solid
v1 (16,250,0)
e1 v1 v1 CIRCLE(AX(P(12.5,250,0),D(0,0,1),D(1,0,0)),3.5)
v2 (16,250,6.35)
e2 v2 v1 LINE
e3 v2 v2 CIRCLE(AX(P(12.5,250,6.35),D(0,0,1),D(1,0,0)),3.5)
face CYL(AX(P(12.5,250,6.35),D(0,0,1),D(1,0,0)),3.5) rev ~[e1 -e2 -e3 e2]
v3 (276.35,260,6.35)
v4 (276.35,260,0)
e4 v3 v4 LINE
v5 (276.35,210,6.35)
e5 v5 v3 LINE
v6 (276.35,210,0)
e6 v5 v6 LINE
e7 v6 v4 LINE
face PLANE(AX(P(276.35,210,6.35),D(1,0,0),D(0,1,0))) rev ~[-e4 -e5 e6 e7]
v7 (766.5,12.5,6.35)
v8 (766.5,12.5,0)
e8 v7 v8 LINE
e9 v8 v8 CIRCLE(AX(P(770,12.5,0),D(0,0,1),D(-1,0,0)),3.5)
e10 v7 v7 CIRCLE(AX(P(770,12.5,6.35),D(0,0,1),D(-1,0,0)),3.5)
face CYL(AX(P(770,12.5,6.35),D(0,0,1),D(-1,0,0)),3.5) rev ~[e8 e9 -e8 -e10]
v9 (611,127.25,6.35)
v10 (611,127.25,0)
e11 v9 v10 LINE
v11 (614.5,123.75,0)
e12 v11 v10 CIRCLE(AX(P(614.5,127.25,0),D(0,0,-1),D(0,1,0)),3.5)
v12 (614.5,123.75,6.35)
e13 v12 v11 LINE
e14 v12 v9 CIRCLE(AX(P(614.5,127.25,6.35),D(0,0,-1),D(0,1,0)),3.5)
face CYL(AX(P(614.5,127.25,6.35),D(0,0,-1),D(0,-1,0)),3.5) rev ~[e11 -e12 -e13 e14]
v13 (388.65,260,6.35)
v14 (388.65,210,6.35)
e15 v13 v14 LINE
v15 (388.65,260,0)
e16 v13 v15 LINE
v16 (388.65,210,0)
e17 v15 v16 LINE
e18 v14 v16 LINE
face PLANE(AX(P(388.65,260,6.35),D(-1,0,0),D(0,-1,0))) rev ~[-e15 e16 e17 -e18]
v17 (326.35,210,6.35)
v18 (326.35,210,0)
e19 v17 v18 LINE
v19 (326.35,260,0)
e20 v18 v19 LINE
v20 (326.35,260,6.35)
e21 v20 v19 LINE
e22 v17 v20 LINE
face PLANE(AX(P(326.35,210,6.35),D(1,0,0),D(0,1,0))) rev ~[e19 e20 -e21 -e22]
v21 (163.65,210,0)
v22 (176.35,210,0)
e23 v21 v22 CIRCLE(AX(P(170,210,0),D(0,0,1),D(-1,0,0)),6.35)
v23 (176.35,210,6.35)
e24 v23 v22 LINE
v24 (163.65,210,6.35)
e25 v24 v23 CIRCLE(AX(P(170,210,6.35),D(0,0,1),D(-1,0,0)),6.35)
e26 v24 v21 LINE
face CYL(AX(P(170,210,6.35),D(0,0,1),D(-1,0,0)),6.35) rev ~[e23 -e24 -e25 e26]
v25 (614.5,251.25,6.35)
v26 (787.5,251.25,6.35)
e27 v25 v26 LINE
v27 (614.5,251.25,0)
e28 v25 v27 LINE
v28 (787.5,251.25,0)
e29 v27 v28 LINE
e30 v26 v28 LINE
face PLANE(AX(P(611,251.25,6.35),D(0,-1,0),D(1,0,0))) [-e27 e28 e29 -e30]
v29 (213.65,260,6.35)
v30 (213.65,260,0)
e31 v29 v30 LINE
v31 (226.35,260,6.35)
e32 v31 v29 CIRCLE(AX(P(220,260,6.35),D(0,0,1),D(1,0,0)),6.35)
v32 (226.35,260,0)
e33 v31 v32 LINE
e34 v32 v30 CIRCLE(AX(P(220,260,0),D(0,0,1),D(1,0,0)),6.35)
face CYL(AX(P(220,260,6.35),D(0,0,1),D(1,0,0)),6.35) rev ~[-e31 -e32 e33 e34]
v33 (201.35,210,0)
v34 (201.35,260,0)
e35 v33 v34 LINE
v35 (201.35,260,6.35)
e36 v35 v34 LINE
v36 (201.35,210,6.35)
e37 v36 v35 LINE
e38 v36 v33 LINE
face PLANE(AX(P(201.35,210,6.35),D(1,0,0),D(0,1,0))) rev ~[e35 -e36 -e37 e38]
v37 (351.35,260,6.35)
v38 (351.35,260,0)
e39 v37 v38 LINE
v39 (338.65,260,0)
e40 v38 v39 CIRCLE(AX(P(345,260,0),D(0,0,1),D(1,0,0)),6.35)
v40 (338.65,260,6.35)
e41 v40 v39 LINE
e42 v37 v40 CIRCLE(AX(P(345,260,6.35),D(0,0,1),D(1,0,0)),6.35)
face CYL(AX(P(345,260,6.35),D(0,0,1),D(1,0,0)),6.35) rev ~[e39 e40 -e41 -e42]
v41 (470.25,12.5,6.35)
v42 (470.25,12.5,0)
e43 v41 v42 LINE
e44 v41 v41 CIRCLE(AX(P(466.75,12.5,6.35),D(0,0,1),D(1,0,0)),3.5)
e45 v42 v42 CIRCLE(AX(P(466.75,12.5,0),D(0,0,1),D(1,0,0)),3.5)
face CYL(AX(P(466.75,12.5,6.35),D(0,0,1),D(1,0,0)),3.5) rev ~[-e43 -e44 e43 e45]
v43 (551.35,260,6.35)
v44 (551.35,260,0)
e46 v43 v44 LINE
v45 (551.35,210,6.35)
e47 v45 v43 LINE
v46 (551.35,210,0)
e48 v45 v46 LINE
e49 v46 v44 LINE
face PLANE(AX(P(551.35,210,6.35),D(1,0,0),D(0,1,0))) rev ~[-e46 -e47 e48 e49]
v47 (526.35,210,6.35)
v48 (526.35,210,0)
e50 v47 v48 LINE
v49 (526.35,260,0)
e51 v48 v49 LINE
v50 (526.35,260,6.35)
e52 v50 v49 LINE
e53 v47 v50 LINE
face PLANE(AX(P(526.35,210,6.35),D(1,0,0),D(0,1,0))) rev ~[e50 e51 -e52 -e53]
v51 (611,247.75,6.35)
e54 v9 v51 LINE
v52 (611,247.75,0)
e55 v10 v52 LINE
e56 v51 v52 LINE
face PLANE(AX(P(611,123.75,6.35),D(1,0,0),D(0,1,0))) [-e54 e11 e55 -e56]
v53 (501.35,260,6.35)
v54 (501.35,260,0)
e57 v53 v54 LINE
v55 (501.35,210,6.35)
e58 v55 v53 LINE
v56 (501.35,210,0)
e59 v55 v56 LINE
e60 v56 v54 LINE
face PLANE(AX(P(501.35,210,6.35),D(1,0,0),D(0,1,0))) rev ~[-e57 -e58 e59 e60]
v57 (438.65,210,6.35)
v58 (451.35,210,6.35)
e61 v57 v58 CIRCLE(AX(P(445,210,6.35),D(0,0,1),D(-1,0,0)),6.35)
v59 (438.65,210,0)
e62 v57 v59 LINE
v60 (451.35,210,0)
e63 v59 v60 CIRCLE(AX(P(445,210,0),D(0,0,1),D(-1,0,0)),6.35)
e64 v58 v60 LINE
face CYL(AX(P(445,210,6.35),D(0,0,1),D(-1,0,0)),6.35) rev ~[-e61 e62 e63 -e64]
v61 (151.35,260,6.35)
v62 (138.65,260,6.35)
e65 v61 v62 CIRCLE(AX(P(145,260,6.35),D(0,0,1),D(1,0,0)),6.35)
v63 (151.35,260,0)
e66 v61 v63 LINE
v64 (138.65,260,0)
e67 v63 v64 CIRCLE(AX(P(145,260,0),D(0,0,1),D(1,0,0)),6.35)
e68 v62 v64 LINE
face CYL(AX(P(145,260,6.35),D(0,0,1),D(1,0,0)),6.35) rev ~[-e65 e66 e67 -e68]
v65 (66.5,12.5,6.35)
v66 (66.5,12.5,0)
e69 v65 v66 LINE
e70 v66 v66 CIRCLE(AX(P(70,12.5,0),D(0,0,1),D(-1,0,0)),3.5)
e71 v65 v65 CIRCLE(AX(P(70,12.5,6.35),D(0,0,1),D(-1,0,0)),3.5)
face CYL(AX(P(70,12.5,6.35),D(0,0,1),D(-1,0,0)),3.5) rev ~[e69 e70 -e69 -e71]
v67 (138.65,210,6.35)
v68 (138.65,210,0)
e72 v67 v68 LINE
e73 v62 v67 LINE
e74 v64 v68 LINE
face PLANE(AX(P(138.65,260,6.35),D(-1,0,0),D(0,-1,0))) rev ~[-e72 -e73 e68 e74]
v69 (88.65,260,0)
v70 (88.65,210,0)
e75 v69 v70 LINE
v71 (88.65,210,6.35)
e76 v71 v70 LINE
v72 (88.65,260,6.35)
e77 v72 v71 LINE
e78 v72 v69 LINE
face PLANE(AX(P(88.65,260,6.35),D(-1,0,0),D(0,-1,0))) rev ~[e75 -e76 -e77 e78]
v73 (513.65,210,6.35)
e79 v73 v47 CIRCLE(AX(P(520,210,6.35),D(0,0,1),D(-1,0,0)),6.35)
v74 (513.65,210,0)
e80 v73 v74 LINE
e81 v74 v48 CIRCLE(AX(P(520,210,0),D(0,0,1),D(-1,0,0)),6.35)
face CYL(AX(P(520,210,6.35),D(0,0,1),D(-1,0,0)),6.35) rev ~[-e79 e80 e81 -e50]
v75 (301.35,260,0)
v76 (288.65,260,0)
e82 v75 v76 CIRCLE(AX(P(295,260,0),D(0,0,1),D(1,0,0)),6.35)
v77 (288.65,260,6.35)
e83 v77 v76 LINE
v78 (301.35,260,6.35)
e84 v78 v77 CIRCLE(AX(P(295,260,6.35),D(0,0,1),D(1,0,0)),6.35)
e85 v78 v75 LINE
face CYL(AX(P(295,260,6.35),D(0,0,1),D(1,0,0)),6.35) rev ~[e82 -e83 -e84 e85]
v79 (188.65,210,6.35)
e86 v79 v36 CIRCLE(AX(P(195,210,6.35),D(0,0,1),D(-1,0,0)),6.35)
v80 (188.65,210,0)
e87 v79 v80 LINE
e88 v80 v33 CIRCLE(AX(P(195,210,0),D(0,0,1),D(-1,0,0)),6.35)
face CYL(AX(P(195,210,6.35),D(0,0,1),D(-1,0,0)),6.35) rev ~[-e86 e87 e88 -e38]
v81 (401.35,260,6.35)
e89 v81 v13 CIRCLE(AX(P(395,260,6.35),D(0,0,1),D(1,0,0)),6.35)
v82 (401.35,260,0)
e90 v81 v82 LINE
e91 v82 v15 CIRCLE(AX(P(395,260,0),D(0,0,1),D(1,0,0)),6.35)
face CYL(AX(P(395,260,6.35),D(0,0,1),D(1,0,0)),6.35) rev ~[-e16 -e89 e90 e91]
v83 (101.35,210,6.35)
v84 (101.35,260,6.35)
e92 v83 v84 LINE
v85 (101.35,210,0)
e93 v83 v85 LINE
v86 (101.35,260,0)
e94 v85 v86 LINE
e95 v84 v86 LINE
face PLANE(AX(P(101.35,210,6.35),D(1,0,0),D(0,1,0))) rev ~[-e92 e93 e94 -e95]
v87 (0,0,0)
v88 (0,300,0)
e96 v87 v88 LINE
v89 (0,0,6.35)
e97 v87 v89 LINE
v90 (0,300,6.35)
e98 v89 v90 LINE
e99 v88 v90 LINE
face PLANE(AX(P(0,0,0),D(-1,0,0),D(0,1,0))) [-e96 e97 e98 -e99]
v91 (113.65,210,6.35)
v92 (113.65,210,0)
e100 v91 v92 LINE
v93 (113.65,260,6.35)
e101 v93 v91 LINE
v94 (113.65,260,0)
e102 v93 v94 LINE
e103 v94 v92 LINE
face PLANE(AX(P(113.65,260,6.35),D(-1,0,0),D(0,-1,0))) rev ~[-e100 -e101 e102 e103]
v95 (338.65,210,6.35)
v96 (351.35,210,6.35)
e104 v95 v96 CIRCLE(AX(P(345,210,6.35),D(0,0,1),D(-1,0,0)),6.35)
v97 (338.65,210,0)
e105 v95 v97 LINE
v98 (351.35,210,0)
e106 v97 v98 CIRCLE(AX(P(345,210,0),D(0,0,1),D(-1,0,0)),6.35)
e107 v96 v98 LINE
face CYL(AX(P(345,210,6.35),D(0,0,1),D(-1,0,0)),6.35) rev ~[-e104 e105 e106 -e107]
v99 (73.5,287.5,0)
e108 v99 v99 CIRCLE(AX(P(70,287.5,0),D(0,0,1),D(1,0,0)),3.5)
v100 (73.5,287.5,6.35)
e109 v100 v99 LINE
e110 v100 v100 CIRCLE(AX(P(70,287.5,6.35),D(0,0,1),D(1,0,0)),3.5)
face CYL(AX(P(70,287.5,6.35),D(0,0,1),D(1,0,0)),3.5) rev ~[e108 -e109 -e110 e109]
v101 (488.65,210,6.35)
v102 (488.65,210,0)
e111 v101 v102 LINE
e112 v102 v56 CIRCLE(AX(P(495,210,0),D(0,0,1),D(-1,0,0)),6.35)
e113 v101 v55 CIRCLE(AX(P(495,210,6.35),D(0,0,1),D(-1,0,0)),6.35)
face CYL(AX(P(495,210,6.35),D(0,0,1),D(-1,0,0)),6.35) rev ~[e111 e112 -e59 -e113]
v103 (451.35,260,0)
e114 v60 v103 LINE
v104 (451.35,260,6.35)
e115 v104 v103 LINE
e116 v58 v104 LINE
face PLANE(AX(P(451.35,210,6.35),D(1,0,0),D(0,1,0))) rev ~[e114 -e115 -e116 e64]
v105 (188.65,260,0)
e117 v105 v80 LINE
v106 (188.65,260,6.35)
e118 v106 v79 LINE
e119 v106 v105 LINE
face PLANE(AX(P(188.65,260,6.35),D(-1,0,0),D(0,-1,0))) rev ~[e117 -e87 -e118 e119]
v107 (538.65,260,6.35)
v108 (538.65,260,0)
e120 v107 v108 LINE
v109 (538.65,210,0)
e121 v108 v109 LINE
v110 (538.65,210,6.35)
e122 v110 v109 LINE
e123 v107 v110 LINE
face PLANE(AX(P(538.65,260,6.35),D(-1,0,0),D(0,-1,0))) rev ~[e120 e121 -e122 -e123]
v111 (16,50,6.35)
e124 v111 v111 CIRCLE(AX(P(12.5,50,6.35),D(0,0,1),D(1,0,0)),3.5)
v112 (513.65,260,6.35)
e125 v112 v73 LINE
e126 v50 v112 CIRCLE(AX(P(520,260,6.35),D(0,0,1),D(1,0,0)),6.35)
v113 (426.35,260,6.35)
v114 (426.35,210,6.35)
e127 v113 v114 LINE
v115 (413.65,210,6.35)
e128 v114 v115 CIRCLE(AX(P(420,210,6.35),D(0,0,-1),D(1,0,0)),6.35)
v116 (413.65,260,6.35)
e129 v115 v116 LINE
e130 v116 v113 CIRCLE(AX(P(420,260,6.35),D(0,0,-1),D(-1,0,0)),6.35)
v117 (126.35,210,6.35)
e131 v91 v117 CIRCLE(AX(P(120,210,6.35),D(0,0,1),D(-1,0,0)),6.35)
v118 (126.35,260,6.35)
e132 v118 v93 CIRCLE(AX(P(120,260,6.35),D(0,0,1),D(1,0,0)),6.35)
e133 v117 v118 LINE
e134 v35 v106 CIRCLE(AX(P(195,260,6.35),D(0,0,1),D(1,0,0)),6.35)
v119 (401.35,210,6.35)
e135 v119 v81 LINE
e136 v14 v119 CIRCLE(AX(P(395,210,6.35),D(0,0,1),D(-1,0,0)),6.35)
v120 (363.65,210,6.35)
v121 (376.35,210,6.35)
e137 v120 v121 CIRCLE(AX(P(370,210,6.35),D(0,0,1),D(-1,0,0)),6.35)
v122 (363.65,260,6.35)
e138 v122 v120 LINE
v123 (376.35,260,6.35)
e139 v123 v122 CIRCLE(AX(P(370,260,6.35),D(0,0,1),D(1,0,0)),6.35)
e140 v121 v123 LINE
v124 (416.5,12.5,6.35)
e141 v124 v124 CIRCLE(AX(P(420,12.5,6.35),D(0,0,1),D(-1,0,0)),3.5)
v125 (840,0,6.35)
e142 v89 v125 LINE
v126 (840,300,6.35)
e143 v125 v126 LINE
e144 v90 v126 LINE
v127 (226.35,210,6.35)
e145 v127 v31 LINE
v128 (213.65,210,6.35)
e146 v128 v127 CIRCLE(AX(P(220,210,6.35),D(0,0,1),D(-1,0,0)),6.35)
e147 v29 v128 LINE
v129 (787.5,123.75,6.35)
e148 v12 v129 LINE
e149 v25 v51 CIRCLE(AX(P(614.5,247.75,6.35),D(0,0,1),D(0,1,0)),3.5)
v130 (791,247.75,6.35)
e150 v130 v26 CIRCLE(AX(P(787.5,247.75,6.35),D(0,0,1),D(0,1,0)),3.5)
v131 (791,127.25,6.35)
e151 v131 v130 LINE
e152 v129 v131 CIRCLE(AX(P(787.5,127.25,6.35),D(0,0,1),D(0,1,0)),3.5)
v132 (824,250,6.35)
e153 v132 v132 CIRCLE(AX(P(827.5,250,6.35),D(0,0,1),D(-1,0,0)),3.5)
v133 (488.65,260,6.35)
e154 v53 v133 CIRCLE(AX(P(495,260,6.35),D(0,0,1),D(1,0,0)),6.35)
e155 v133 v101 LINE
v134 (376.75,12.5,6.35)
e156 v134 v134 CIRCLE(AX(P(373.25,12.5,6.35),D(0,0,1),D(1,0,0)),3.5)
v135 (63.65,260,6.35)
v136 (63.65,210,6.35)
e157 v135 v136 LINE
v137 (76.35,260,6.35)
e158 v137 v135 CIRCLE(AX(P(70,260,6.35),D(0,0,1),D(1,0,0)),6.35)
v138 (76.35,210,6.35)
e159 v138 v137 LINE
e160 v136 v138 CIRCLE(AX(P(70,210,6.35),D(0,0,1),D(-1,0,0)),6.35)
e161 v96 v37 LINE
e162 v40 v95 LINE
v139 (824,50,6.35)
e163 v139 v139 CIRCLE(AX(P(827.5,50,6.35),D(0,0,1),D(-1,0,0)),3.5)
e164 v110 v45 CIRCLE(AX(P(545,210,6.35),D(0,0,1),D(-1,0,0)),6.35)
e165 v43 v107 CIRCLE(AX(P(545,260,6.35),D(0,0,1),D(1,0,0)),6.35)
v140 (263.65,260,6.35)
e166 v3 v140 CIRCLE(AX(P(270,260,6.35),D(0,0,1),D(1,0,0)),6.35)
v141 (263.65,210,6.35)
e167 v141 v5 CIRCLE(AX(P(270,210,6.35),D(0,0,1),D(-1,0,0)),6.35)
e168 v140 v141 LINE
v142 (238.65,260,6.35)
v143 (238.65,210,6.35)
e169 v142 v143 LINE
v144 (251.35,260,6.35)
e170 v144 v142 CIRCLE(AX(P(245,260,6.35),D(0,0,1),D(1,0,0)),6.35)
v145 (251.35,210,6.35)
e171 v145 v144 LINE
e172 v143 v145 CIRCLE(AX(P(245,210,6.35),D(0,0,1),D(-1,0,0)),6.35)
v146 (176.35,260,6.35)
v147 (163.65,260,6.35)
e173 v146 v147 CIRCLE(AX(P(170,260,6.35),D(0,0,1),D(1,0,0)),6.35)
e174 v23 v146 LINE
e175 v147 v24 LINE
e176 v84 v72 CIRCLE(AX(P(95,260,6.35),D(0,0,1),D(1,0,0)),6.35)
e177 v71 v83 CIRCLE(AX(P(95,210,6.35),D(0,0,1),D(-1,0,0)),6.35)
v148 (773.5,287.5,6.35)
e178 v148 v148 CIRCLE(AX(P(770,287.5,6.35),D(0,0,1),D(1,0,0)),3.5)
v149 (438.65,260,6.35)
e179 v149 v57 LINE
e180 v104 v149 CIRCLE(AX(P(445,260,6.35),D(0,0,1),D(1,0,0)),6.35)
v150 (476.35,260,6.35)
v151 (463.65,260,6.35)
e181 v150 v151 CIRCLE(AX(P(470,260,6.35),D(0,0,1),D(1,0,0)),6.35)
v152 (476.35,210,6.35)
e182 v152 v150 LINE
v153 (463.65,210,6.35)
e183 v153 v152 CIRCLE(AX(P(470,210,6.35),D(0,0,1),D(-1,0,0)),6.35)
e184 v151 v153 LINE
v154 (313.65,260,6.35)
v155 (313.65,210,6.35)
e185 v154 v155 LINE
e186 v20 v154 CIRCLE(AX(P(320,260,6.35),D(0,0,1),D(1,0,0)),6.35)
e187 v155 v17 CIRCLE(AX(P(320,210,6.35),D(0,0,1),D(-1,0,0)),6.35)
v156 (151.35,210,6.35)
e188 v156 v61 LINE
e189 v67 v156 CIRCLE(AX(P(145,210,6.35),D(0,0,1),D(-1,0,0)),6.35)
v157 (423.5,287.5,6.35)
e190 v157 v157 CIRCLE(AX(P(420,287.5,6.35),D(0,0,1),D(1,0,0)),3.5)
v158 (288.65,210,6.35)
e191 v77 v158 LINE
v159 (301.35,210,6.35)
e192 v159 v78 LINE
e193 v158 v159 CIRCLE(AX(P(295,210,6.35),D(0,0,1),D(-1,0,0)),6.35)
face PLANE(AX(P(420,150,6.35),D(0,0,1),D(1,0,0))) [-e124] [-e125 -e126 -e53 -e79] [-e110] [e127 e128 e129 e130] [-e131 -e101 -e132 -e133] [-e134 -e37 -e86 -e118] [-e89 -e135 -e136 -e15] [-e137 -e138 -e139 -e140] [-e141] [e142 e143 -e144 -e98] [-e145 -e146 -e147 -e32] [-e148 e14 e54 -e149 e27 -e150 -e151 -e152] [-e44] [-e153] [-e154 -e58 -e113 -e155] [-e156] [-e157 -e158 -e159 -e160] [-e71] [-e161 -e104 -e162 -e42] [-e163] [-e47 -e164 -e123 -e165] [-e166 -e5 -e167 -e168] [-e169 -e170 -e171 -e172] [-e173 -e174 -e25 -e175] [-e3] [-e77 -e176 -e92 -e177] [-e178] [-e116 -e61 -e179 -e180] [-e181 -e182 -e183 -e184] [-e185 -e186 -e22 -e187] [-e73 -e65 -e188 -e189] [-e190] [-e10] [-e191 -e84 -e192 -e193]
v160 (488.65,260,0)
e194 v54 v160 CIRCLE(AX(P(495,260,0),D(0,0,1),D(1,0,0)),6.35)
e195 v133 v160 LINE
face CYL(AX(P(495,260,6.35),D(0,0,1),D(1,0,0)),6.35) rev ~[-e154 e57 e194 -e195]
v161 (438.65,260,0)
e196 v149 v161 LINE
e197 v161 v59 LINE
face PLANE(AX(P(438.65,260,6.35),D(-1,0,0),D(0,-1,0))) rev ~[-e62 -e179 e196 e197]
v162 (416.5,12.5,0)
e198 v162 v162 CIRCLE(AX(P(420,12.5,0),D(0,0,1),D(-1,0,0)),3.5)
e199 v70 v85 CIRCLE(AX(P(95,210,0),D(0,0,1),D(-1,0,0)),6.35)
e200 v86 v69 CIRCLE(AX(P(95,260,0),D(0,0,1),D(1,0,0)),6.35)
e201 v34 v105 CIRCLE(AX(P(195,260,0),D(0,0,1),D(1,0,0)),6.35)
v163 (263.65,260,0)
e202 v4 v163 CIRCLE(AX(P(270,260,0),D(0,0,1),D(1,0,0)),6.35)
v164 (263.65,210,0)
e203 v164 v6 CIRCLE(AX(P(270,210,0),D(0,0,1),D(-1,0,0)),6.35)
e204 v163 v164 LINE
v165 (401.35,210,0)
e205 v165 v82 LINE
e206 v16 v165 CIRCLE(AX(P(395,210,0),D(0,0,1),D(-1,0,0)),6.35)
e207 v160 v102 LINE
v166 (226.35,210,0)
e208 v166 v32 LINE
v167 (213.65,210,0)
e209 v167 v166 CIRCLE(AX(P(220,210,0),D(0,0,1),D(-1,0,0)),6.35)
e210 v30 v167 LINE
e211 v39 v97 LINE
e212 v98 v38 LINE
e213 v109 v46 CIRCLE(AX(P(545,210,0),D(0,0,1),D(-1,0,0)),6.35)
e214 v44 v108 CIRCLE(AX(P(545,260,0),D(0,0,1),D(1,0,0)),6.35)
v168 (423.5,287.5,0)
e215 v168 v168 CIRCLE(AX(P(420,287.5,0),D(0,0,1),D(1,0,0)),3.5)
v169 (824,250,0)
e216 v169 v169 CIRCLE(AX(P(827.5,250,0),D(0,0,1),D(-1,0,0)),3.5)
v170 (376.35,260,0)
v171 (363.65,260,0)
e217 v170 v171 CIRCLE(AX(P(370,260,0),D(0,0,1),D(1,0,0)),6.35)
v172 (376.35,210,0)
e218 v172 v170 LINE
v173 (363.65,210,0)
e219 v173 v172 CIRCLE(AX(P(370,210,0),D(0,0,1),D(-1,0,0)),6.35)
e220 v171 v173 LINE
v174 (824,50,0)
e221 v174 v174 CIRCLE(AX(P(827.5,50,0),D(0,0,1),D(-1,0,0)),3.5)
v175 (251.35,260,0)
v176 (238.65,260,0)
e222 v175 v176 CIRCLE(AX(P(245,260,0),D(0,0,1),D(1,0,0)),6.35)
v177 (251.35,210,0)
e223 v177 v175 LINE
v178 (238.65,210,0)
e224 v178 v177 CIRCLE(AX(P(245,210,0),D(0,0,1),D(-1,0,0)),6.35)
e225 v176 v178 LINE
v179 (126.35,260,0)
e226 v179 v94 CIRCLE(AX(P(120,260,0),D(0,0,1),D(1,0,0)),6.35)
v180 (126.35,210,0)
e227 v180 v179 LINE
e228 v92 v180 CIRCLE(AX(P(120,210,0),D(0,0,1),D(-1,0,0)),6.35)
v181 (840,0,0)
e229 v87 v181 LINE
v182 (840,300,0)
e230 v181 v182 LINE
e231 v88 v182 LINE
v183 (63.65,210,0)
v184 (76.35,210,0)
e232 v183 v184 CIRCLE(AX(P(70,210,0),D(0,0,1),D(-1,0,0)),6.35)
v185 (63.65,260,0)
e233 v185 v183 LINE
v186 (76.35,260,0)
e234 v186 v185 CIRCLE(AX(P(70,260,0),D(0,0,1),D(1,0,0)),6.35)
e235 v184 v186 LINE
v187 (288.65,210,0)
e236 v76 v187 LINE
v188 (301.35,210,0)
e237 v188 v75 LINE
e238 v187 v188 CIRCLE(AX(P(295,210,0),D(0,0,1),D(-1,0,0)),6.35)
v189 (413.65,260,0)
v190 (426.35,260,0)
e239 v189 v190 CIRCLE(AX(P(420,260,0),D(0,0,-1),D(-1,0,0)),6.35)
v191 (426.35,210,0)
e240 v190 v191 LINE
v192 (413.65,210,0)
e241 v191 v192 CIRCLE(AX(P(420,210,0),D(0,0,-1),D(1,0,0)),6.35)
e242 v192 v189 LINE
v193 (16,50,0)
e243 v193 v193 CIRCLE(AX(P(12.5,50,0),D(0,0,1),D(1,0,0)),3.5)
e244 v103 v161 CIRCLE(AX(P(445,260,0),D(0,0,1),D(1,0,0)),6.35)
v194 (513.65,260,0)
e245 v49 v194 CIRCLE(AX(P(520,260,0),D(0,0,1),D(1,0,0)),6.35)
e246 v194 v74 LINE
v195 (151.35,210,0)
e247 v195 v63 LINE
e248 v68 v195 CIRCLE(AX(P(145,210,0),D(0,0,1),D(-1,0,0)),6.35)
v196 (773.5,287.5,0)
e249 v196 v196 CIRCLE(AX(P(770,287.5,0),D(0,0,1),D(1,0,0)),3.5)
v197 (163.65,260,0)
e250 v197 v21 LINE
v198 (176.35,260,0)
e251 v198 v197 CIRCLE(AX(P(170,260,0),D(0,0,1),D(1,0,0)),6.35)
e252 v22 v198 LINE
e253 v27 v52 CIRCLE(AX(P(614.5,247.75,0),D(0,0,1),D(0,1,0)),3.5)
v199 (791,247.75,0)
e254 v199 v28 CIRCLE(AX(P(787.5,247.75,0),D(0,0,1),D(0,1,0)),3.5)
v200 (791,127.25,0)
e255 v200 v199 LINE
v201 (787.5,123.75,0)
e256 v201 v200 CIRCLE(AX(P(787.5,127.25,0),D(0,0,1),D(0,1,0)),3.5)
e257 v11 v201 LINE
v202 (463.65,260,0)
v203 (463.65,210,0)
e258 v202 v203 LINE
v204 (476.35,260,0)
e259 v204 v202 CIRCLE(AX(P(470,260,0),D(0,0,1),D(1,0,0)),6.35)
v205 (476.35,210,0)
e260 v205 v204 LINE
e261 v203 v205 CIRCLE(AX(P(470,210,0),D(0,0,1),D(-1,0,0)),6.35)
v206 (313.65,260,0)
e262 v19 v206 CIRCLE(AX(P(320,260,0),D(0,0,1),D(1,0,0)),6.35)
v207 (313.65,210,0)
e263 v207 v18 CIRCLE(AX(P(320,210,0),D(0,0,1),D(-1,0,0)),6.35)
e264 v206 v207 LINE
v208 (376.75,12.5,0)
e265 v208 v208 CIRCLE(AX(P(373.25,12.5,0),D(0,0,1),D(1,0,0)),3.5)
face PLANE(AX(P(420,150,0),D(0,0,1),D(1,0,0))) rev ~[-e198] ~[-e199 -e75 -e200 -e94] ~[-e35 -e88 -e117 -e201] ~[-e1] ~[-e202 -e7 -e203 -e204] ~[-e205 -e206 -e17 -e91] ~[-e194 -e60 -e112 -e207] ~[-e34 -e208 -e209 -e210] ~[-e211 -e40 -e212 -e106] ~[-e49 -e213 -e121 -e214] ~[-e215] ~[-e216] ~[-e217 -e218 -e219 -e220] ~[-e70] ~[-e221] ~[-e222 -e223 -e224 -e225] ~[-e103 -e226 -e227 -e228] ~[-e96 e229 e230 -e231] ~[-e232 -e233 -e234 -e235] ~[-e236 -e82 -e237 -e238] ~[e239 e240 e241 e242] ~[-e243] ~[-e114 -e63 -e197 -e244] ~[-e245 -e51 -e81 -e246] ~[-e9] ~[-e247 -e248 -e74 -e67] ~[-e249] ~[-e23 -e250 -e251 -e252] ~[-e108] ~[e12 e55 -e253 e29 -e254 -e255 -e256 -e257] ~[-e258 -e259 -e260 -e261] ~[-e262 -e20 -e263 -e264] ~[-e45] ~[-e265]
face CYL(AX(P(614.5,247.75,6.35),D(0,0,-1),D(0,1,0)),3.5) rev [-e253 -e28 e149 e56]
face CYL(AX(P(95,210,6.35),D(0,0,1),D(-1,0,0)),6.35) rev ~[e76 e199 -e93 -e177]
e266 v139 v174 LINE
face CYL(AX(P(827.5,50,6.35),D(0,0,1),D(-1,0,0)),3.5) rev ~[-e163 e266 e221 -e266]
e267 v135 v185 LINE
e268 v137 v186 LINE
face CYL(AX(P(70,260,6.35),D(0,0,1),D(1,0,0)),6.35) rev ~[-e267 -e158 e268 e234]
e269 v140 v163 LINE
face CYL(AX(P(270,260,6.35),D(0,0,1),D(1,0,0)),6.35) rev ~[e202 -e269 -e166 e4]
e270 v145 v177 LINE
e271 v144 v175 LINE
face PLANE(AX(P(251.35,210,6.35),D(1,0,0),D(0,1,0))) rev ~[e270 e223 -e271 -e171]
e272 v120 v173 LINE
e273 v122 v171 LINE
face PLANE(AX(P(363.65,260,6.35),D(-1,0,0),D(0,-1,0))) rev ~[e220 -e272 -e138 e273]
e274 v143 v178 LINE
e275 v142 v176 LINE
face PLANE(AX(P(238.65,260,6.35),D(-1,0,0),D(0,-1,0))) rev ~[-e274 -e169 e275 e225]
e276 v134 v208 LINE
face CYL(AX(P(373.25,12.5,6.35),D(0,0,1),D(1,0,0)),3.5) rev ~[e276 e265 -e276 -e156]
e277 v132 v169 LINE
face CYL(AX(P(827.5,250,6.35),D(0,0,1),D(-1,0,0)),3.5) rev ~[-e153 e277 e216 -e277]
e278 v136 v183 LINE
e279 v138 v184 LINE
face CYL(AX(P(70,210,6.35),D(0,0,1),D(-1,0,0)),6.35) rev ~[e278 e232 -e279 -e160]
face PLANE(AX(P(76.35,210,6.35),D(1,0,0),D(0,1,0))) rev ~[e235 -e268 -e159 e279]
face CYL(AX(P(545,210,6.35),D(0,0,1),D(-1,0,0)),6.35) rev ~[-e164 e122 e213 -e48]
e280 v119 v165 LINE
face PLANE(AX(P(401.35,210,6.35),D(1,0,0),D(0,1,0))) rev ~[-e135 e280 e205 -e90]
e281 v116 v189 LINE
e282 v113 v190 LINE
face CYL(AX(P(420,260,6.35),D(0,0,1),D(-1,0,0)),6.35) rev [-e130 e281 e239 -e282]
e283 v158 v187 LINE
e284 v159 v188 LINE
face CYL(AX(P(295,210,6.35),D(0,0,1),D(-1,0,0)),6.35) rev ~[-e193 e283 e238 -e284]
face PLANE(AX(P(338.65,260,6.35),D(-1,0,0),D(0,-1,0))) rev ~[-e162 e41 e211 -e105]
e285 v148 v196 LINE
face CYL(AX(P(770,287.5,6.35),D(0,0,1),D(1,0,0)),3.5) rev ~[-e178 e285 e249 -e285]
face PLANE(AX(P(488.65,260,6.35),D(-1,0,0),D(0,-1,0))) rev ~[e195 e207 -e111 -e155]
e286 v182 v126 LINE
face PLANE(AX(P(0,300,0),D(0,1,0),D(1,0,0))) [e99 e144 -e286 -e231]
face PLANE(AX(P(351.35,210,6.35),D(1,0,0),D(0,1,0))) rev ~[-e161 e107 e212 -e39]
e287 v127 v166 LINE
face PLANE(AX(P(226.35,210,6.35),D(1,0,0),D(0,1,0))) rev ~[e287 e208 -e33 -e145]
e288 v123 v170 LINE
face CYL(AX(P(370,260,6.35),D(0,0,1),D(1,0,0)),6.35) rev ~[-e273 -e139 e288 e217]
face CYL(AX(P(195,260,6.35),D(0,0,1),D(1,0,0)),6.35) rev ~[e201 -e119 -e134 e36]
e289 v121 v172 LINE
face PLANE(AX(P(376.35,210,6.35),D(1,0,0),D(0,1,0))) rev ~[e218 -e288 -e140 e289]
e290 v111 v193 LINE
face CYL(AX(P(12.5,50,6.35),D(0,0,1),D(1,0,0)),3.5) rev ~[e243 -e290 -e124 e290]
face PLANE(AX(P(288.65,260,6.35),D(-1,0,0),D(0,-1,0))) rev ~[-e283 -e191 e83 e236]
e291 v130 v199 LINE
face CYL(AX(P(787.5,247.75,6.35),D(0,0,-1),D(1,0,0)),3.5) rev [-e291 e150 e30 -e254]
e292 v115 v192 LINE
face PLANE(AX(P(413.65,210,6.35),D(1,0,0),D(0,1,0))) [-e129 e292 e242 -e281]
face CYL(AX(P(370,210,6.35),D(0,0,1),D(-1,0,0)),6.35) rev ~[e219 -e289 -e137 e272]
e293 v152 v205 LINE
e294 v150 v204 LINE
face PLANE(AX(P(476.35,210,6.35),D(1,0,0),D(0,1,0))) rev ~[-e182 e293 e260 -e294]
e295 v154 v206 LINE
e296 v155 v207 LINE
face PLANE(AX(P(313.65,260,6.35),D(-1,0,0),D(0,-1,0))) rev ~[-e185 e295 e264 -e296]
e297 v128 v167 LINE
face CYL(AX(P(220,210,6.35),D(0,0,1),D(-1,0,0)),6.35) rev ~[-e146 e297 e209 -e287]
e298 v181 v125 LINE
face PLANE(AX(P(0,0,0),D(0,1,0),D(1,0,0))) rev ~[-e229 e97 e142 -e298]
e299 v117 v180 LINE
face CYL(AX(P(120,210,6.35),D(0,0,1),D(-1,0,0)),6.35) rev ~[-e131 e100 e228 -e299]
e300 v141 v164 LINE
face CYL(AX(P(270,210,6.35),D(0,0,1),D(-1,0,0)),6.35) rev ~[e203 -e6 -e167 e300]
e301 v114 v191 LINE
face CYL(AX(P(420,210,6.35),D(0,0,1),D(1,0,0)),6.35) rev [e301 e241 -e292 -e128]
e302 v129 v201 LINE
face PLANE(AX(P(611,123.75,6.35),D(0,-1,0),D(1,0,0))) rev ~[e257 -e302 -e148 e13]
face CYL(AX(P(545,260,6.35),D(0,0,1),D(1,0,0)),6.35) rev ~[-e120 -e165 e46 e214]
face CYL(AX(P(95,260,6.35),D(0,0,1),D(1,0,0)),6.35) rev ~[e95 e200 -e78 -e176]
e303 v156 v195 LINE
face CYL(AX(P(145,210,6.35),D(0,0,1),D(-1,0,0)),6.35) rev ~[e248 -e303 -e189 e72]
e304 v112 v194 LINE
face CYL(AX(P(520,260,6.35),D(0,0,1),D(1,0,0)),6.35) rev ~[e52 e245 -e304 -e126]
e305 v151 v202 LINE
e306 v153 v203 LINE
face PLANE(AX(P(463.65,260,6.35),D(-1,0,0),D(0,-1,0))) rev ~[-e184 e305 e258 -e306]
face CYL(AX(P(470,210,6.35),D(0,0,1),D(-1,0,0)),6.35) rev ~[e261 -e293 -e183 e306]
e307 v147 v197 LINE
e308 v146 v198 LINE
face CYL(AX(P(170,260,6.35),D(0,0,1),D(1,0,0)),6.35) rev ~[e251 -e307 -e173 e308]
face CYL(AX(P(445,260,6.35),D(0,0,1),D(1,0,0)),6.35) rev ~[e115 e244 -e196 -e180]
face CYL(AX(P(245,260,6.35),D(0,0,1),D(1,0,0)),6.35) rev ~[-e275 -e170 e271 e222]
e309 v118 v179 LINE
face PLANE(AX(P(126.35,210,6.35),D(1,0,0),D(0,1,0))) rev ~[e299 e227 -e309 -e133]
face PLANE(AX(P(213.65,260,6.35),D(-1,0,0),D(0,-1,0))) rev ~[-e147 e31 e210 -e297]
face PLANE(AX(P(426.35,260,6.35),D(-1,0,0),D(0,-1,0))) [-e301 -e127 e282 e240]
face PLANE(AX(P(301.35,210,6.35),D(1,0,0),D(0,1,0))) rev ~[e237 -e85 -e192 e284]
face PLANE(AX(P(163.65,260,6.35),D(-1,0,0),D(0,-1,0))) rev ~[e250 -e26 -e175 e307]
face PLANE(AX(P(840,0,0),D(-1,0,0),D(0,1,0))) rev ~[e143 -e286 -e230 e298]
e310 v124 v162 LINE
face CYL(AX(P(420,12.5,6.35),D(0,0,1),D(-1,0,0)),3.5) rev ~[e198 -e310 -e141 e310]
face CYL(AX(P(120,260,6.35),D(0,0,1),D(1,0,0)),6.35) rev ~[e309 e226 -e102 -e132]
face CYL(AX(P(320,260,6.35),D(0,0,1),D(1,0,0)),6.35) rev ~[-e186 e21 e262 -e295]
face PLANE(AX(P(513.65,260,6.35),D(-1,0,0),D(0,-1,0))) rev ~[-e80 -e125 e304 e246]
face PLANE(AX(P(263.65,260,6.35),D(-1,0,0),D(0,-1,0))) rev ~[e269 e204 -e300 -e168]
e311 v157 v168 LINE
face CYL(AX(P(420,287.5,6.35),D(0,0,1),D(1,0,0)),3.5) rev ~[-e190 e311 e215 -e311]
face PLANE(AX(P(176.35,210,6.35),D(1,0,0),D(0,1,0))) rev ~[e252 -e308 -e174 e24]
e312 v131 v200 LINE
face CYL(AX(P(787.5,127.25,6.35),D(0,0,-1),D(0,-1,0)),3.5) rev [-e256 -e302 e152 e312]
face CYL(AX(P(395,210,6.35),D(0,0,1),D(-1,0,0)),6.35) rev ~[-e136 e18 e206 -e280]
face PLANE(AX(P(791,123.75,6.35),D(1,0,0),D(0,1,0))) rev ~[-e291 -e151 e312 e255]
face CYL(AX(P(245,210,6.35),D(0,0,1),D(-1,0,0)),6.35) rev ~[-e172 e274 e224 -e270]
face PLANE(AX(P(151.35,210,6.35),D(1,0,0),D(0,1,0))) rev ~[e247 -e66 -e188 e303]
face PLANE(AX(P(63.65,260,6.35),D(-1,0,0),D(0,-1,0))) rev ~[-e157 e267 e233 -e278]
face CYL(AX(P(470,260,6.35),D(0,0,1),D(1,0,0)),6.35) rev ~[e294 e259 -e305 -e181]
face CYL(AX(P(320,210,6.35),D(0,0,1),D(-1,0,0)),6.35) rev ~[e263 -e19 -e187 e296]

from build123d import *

# Parameters (mm, degrees)
SKETCH2_W           = 840
SKETCH2_H           = 300
BOSS_EXTRUDE1_DEPTH = 6.35
CUT_EXTRUDE1_DEPTH  = 6.35
SKETCH4_R           = 3.5
CUT_EXTRUDE2_DEPTH  = 892.98672776
SKETCH5_W           = 180
SKETCH5_H           = 127.5
CUT_EXTRUDE3_DEPTH  = 892.98672776
FILLET1_R           = 3.5


with BuildPart() as part:
    # Sketch2 → Boss-Extrude1 (new body)
    with BuildSketch(Plane.XY):
        with Locations((420, 150)):
            Rectangle(SKETCH2_W, SKETCH2_H)
    extrude(amount=BOSS_EXTRUDE1_DEPTH)

    # Sketch3 → Cut-Extrude1 (cut)
    with BuildSketch(Plane.XY.offset(6.35)):
        with BuildLine():
            Line((413.65, 210), (413.65, 260))
            ThreePointArc((413.65, 260), (420, 266.35), (426.35, 260))
            Line((426.35, 260), (426.35, 210))
            ThreePointArc((426.35, 210), (420, 203.65), (413.65, 210))
        make_face()
        with BuildLine():
            Line((451.35, 210), (451.35, 260))
            ThreePointArc((451.35, 260), (445, 266.35), (438.65, 260))
            Line((438.65, 260), (438.65, 210))
            ThreePointArc((438.65, 210), (445, 203.65), (451.35, 210))
        make_face()
        with BuildLine():
            Line((476.35, 210), (476.35, 260))
            ThreePointArc((476.35, 260), (470, 266.35), (463.65, 260))
            Line((463.65, 260), (463.65, 210))
            ThreePointArc((463.65, 210), (470, 203.65), (476.35, 210))
        make_face()
        with BuildLine():
            Line((501.35, 210), (501.35, 260))
            ThreePointArc((501.35, 260), (495, 266.35), (488.65, 260))
            Line((488.65, 260), (488.65, 210))
            ThreePointArc((488.65, 210), (495, 203.65), (501.35, 210))
        make_face()
        with BuildLine():
            Line((401.35, 210), (401.35, 260))
            ThreePointArc((401.35, 260), (395, 266.35), (388.65, 260))
            Line((388.65, 260), (388.65, 210))
            ThreePointArc((388.65, 210), (395, 203.65), (401.35, 210))
        make_face()
        with BuildLine():
            Line((376.35, 210), (376.35, 260))
            ThreePointArc((376.35, 260), (370, 266.35), (363.65, 260))
            Line((363.65, 260), (363.65, 210))
            ThreePointArc((363.65, 210), (370, 203.65), (376.35, 210))
        make_face()
        with BuildLine():
            Line((351.35, 210), (351.35, 260))
            ThreePointArc((351.35, 260), (345, 266.35), (338.65, 260))
            Line((338.65, 260), (338.65, 210))
            ThreePointArc((338.65, 210), (345, 203.65), (351.35, 210))
        make_face()
        with BuildLine():
            Line((326.35, 210), (326.35, 260))
            ThreePointArc((326.35, 260), (320, 266.35), (313.65, 260))
            Line((313.65, 260), (313.65, 210))
            ThreePointArc((313.65, 210), (320, 203.65), (326.35, 210))
        make_face()
        with BuildLine():
            Line((301.35, 210), (301.35, 260))
            ThreePointArc((301.35, 260), (295, 266.35), (288.65, 260))
            Line((288.65, 260), (288.65, 210))
            ThreePointArc((288.65, 210), (295, 203.65), (301.35, 210))
        make_face()
        with BuildLine():
            Line((276.35, 210), (276.35, 260))
            ThreePointArc((276.35, 260), (270, 266.35), (263.65, 260))
            Line((263.65, 260), (263.65, 210))
            ThreePointArc((263.65, 210), (270, 203.65), (276.35, 210))
        make_face()
        with BuildLine():
            Line((251.35, 210), (251.35, 260))
            ThreePointArc((251.35, 260), (245, 266.35), (238.65, 260))
            Line((238.65, 260), (238.65, 210))
            ThreePointArc((238.65, 210), (245, 203.65), (251.35, 210))
        make_face()
        with BuildLine():
            Line((226.35, 210), (226.35, 260))
            ThreePointArc((226.35, 260), (220, 266.35), (213.65, 260))
            Line((213.65, 260), (213.65, 210))
            ThreePointArc((213.65, 210), (220, 203.65), (226.35, 210))
        make_face()
        with BuildLine():
            Line((201.35, 210), (201.35, 260))
            ThreePointArc((201.35, 260), (195, 266.35), (188.65, 260))
            Line((188.65, 260), (188.65, 210))
            ThreePointArc((188.65, 210), (195, 203.65), (201.35, 210))
        make_face()
        with BuildLine():
            Line((176.35, 210), (176.35, 260))
            ThreePointArc((176.35, 260), (170, 266.35), (163.65, 260))
            Line((163.65, 260), (163.65, 210))
            ThreePointArc((163.65, 210), (170, 203.65), (176.35, 210))
        make_face()
        with BuildLine():
            Line((151.35, 210), (151.35, 260))
            ThreePointArc((151.35, 260), (145, 266.35), (138.65, 260))
            Line((138.65, 260), (138.65, 210))
            ThreePointArc((138.65, 210), (145, 203.65), (151.35, 210))
        make_face()
        with BuildLine():
            Line((126.35, 210), (126.35, 260))
            ThreePointArc((126.35, 260), (120, 266.35), (113.65, 260))
            Line((113.65, 260), (113.65, 210))
            ThreePointArc((113.65, 210), (120, 203.65), (126.35, 210))
        make_face()
        with BuildLine():
            Line((101.35, 210), (101.35, 260))
            ThreePointArc((101.35, 260), (95, 266.35), (88.65, 260))
            Line((88.65, 260), (88.65, 210))
            ThreePointArc((88.65, 210), (95, 203.65), (101.35, 210))
        make_face()
        with BuildLine():
            Line((76.35, 210), (76.35, 260))
            ThreePointArc((76.35, 260), (70, 266.35), (63.65, 260))
            Line((63.65, 260), (63.65, 210))
            ThreePointArc((63.65, 210), (70, 203.65), (76.35, 210))
        make_face()
        with BuildLine():
            Line((526.35, 210), (526.35, 260))
            ThreePointArc((526.35, 260), (520, 266.35), (513.65, 260))
            Line((513.65, 260), (513.65, 210))
            ThreePointArc((513.65, 210), (520, 203.65), (526.35, 210))
        make_face()
        with BuildLine():
            Line((551.35, 210), (551.35, 260))
            ThreePointArc((551.35, 260), (545, 266.35), (538.65, 260))
            Line((538.65, 260), (538.65, 210))
            ThreePointArc((538.65, 210), (545, 203.65), (551.35, 210))
        make_face()
    extrude(amount=-CUT_EXTRUDE1_DEPTH, mode=Mode.SUBTRACT)

    # Sketch4 → Cut-Extrude2 (cut, through all)
    with BuildSketch(Plane.XY.offset(6.35)):
        with Locations((420, 287.5)):
            Circle(SKETCH4_R)
        with Locations((770, 287.5)):
            Circle(SKETCH4_R)
        with Locations((70, 287.5)):
            Circle(SKETCH4_R)
        with Locations((12.5, 250)):
            Circle(SKETCH4_R)
        with Locations((12.5, 50)):
            Circle(SKETCH4_R)
        with Locations(Location((827.5, 50, 0), (0, 0, 180))):
            Circle(SKETCH4_R)
        with Locations(Location((827.5, 250, 0), (0, 0, 180))):
            Circle(SKETCH4_R)
        with Locations(Location((770, 12.5, 0), (0, 0, 180))):
            Circle(SKETCH4_R)
        with Locations(Location((420, 12.5, 0), (0, 0, 180))):
            Circle(SKETCH4_R)
        with Locations(Location((70, 12.5, 0), (0, 0, 180))):
            Circle(SKETCH4_R)
        with Locations((373.25, 12.5)):
            Circle(SKETCH4_R)
        with Locations((466.75, 12.5)):
            Circle(SKETCH4_R)
    extrude(amount=-CUT_EXTRUDE2_DEPTH, mode=Mode.SUBTRACT)

    # Sketch5 → Cut-Extrude3 (cut, through all)
    with BuildSketch(Plane.XY.offset(6.35)):
        with Locations((701, 187.5)):
            Rectangle(SKETCH5_W, SKETCH5_H)
    extrude(amount=-CUT_EXTRUDE3_DEPTH, mode=Mode.SUBTRACT)

    # Fillet1
    fillet1_edges = [part.edges().sort_by_distance(p)[0] for p in [
        (611, 123.75, 3.175),
        (611, 251.25, 3.175),
        (791, 251.25, 3.175),
        (791, 123.75, 3.175),
    ]]
    fillet(fillet1_edges, radius=FILLET1_R)


solid = part.part
